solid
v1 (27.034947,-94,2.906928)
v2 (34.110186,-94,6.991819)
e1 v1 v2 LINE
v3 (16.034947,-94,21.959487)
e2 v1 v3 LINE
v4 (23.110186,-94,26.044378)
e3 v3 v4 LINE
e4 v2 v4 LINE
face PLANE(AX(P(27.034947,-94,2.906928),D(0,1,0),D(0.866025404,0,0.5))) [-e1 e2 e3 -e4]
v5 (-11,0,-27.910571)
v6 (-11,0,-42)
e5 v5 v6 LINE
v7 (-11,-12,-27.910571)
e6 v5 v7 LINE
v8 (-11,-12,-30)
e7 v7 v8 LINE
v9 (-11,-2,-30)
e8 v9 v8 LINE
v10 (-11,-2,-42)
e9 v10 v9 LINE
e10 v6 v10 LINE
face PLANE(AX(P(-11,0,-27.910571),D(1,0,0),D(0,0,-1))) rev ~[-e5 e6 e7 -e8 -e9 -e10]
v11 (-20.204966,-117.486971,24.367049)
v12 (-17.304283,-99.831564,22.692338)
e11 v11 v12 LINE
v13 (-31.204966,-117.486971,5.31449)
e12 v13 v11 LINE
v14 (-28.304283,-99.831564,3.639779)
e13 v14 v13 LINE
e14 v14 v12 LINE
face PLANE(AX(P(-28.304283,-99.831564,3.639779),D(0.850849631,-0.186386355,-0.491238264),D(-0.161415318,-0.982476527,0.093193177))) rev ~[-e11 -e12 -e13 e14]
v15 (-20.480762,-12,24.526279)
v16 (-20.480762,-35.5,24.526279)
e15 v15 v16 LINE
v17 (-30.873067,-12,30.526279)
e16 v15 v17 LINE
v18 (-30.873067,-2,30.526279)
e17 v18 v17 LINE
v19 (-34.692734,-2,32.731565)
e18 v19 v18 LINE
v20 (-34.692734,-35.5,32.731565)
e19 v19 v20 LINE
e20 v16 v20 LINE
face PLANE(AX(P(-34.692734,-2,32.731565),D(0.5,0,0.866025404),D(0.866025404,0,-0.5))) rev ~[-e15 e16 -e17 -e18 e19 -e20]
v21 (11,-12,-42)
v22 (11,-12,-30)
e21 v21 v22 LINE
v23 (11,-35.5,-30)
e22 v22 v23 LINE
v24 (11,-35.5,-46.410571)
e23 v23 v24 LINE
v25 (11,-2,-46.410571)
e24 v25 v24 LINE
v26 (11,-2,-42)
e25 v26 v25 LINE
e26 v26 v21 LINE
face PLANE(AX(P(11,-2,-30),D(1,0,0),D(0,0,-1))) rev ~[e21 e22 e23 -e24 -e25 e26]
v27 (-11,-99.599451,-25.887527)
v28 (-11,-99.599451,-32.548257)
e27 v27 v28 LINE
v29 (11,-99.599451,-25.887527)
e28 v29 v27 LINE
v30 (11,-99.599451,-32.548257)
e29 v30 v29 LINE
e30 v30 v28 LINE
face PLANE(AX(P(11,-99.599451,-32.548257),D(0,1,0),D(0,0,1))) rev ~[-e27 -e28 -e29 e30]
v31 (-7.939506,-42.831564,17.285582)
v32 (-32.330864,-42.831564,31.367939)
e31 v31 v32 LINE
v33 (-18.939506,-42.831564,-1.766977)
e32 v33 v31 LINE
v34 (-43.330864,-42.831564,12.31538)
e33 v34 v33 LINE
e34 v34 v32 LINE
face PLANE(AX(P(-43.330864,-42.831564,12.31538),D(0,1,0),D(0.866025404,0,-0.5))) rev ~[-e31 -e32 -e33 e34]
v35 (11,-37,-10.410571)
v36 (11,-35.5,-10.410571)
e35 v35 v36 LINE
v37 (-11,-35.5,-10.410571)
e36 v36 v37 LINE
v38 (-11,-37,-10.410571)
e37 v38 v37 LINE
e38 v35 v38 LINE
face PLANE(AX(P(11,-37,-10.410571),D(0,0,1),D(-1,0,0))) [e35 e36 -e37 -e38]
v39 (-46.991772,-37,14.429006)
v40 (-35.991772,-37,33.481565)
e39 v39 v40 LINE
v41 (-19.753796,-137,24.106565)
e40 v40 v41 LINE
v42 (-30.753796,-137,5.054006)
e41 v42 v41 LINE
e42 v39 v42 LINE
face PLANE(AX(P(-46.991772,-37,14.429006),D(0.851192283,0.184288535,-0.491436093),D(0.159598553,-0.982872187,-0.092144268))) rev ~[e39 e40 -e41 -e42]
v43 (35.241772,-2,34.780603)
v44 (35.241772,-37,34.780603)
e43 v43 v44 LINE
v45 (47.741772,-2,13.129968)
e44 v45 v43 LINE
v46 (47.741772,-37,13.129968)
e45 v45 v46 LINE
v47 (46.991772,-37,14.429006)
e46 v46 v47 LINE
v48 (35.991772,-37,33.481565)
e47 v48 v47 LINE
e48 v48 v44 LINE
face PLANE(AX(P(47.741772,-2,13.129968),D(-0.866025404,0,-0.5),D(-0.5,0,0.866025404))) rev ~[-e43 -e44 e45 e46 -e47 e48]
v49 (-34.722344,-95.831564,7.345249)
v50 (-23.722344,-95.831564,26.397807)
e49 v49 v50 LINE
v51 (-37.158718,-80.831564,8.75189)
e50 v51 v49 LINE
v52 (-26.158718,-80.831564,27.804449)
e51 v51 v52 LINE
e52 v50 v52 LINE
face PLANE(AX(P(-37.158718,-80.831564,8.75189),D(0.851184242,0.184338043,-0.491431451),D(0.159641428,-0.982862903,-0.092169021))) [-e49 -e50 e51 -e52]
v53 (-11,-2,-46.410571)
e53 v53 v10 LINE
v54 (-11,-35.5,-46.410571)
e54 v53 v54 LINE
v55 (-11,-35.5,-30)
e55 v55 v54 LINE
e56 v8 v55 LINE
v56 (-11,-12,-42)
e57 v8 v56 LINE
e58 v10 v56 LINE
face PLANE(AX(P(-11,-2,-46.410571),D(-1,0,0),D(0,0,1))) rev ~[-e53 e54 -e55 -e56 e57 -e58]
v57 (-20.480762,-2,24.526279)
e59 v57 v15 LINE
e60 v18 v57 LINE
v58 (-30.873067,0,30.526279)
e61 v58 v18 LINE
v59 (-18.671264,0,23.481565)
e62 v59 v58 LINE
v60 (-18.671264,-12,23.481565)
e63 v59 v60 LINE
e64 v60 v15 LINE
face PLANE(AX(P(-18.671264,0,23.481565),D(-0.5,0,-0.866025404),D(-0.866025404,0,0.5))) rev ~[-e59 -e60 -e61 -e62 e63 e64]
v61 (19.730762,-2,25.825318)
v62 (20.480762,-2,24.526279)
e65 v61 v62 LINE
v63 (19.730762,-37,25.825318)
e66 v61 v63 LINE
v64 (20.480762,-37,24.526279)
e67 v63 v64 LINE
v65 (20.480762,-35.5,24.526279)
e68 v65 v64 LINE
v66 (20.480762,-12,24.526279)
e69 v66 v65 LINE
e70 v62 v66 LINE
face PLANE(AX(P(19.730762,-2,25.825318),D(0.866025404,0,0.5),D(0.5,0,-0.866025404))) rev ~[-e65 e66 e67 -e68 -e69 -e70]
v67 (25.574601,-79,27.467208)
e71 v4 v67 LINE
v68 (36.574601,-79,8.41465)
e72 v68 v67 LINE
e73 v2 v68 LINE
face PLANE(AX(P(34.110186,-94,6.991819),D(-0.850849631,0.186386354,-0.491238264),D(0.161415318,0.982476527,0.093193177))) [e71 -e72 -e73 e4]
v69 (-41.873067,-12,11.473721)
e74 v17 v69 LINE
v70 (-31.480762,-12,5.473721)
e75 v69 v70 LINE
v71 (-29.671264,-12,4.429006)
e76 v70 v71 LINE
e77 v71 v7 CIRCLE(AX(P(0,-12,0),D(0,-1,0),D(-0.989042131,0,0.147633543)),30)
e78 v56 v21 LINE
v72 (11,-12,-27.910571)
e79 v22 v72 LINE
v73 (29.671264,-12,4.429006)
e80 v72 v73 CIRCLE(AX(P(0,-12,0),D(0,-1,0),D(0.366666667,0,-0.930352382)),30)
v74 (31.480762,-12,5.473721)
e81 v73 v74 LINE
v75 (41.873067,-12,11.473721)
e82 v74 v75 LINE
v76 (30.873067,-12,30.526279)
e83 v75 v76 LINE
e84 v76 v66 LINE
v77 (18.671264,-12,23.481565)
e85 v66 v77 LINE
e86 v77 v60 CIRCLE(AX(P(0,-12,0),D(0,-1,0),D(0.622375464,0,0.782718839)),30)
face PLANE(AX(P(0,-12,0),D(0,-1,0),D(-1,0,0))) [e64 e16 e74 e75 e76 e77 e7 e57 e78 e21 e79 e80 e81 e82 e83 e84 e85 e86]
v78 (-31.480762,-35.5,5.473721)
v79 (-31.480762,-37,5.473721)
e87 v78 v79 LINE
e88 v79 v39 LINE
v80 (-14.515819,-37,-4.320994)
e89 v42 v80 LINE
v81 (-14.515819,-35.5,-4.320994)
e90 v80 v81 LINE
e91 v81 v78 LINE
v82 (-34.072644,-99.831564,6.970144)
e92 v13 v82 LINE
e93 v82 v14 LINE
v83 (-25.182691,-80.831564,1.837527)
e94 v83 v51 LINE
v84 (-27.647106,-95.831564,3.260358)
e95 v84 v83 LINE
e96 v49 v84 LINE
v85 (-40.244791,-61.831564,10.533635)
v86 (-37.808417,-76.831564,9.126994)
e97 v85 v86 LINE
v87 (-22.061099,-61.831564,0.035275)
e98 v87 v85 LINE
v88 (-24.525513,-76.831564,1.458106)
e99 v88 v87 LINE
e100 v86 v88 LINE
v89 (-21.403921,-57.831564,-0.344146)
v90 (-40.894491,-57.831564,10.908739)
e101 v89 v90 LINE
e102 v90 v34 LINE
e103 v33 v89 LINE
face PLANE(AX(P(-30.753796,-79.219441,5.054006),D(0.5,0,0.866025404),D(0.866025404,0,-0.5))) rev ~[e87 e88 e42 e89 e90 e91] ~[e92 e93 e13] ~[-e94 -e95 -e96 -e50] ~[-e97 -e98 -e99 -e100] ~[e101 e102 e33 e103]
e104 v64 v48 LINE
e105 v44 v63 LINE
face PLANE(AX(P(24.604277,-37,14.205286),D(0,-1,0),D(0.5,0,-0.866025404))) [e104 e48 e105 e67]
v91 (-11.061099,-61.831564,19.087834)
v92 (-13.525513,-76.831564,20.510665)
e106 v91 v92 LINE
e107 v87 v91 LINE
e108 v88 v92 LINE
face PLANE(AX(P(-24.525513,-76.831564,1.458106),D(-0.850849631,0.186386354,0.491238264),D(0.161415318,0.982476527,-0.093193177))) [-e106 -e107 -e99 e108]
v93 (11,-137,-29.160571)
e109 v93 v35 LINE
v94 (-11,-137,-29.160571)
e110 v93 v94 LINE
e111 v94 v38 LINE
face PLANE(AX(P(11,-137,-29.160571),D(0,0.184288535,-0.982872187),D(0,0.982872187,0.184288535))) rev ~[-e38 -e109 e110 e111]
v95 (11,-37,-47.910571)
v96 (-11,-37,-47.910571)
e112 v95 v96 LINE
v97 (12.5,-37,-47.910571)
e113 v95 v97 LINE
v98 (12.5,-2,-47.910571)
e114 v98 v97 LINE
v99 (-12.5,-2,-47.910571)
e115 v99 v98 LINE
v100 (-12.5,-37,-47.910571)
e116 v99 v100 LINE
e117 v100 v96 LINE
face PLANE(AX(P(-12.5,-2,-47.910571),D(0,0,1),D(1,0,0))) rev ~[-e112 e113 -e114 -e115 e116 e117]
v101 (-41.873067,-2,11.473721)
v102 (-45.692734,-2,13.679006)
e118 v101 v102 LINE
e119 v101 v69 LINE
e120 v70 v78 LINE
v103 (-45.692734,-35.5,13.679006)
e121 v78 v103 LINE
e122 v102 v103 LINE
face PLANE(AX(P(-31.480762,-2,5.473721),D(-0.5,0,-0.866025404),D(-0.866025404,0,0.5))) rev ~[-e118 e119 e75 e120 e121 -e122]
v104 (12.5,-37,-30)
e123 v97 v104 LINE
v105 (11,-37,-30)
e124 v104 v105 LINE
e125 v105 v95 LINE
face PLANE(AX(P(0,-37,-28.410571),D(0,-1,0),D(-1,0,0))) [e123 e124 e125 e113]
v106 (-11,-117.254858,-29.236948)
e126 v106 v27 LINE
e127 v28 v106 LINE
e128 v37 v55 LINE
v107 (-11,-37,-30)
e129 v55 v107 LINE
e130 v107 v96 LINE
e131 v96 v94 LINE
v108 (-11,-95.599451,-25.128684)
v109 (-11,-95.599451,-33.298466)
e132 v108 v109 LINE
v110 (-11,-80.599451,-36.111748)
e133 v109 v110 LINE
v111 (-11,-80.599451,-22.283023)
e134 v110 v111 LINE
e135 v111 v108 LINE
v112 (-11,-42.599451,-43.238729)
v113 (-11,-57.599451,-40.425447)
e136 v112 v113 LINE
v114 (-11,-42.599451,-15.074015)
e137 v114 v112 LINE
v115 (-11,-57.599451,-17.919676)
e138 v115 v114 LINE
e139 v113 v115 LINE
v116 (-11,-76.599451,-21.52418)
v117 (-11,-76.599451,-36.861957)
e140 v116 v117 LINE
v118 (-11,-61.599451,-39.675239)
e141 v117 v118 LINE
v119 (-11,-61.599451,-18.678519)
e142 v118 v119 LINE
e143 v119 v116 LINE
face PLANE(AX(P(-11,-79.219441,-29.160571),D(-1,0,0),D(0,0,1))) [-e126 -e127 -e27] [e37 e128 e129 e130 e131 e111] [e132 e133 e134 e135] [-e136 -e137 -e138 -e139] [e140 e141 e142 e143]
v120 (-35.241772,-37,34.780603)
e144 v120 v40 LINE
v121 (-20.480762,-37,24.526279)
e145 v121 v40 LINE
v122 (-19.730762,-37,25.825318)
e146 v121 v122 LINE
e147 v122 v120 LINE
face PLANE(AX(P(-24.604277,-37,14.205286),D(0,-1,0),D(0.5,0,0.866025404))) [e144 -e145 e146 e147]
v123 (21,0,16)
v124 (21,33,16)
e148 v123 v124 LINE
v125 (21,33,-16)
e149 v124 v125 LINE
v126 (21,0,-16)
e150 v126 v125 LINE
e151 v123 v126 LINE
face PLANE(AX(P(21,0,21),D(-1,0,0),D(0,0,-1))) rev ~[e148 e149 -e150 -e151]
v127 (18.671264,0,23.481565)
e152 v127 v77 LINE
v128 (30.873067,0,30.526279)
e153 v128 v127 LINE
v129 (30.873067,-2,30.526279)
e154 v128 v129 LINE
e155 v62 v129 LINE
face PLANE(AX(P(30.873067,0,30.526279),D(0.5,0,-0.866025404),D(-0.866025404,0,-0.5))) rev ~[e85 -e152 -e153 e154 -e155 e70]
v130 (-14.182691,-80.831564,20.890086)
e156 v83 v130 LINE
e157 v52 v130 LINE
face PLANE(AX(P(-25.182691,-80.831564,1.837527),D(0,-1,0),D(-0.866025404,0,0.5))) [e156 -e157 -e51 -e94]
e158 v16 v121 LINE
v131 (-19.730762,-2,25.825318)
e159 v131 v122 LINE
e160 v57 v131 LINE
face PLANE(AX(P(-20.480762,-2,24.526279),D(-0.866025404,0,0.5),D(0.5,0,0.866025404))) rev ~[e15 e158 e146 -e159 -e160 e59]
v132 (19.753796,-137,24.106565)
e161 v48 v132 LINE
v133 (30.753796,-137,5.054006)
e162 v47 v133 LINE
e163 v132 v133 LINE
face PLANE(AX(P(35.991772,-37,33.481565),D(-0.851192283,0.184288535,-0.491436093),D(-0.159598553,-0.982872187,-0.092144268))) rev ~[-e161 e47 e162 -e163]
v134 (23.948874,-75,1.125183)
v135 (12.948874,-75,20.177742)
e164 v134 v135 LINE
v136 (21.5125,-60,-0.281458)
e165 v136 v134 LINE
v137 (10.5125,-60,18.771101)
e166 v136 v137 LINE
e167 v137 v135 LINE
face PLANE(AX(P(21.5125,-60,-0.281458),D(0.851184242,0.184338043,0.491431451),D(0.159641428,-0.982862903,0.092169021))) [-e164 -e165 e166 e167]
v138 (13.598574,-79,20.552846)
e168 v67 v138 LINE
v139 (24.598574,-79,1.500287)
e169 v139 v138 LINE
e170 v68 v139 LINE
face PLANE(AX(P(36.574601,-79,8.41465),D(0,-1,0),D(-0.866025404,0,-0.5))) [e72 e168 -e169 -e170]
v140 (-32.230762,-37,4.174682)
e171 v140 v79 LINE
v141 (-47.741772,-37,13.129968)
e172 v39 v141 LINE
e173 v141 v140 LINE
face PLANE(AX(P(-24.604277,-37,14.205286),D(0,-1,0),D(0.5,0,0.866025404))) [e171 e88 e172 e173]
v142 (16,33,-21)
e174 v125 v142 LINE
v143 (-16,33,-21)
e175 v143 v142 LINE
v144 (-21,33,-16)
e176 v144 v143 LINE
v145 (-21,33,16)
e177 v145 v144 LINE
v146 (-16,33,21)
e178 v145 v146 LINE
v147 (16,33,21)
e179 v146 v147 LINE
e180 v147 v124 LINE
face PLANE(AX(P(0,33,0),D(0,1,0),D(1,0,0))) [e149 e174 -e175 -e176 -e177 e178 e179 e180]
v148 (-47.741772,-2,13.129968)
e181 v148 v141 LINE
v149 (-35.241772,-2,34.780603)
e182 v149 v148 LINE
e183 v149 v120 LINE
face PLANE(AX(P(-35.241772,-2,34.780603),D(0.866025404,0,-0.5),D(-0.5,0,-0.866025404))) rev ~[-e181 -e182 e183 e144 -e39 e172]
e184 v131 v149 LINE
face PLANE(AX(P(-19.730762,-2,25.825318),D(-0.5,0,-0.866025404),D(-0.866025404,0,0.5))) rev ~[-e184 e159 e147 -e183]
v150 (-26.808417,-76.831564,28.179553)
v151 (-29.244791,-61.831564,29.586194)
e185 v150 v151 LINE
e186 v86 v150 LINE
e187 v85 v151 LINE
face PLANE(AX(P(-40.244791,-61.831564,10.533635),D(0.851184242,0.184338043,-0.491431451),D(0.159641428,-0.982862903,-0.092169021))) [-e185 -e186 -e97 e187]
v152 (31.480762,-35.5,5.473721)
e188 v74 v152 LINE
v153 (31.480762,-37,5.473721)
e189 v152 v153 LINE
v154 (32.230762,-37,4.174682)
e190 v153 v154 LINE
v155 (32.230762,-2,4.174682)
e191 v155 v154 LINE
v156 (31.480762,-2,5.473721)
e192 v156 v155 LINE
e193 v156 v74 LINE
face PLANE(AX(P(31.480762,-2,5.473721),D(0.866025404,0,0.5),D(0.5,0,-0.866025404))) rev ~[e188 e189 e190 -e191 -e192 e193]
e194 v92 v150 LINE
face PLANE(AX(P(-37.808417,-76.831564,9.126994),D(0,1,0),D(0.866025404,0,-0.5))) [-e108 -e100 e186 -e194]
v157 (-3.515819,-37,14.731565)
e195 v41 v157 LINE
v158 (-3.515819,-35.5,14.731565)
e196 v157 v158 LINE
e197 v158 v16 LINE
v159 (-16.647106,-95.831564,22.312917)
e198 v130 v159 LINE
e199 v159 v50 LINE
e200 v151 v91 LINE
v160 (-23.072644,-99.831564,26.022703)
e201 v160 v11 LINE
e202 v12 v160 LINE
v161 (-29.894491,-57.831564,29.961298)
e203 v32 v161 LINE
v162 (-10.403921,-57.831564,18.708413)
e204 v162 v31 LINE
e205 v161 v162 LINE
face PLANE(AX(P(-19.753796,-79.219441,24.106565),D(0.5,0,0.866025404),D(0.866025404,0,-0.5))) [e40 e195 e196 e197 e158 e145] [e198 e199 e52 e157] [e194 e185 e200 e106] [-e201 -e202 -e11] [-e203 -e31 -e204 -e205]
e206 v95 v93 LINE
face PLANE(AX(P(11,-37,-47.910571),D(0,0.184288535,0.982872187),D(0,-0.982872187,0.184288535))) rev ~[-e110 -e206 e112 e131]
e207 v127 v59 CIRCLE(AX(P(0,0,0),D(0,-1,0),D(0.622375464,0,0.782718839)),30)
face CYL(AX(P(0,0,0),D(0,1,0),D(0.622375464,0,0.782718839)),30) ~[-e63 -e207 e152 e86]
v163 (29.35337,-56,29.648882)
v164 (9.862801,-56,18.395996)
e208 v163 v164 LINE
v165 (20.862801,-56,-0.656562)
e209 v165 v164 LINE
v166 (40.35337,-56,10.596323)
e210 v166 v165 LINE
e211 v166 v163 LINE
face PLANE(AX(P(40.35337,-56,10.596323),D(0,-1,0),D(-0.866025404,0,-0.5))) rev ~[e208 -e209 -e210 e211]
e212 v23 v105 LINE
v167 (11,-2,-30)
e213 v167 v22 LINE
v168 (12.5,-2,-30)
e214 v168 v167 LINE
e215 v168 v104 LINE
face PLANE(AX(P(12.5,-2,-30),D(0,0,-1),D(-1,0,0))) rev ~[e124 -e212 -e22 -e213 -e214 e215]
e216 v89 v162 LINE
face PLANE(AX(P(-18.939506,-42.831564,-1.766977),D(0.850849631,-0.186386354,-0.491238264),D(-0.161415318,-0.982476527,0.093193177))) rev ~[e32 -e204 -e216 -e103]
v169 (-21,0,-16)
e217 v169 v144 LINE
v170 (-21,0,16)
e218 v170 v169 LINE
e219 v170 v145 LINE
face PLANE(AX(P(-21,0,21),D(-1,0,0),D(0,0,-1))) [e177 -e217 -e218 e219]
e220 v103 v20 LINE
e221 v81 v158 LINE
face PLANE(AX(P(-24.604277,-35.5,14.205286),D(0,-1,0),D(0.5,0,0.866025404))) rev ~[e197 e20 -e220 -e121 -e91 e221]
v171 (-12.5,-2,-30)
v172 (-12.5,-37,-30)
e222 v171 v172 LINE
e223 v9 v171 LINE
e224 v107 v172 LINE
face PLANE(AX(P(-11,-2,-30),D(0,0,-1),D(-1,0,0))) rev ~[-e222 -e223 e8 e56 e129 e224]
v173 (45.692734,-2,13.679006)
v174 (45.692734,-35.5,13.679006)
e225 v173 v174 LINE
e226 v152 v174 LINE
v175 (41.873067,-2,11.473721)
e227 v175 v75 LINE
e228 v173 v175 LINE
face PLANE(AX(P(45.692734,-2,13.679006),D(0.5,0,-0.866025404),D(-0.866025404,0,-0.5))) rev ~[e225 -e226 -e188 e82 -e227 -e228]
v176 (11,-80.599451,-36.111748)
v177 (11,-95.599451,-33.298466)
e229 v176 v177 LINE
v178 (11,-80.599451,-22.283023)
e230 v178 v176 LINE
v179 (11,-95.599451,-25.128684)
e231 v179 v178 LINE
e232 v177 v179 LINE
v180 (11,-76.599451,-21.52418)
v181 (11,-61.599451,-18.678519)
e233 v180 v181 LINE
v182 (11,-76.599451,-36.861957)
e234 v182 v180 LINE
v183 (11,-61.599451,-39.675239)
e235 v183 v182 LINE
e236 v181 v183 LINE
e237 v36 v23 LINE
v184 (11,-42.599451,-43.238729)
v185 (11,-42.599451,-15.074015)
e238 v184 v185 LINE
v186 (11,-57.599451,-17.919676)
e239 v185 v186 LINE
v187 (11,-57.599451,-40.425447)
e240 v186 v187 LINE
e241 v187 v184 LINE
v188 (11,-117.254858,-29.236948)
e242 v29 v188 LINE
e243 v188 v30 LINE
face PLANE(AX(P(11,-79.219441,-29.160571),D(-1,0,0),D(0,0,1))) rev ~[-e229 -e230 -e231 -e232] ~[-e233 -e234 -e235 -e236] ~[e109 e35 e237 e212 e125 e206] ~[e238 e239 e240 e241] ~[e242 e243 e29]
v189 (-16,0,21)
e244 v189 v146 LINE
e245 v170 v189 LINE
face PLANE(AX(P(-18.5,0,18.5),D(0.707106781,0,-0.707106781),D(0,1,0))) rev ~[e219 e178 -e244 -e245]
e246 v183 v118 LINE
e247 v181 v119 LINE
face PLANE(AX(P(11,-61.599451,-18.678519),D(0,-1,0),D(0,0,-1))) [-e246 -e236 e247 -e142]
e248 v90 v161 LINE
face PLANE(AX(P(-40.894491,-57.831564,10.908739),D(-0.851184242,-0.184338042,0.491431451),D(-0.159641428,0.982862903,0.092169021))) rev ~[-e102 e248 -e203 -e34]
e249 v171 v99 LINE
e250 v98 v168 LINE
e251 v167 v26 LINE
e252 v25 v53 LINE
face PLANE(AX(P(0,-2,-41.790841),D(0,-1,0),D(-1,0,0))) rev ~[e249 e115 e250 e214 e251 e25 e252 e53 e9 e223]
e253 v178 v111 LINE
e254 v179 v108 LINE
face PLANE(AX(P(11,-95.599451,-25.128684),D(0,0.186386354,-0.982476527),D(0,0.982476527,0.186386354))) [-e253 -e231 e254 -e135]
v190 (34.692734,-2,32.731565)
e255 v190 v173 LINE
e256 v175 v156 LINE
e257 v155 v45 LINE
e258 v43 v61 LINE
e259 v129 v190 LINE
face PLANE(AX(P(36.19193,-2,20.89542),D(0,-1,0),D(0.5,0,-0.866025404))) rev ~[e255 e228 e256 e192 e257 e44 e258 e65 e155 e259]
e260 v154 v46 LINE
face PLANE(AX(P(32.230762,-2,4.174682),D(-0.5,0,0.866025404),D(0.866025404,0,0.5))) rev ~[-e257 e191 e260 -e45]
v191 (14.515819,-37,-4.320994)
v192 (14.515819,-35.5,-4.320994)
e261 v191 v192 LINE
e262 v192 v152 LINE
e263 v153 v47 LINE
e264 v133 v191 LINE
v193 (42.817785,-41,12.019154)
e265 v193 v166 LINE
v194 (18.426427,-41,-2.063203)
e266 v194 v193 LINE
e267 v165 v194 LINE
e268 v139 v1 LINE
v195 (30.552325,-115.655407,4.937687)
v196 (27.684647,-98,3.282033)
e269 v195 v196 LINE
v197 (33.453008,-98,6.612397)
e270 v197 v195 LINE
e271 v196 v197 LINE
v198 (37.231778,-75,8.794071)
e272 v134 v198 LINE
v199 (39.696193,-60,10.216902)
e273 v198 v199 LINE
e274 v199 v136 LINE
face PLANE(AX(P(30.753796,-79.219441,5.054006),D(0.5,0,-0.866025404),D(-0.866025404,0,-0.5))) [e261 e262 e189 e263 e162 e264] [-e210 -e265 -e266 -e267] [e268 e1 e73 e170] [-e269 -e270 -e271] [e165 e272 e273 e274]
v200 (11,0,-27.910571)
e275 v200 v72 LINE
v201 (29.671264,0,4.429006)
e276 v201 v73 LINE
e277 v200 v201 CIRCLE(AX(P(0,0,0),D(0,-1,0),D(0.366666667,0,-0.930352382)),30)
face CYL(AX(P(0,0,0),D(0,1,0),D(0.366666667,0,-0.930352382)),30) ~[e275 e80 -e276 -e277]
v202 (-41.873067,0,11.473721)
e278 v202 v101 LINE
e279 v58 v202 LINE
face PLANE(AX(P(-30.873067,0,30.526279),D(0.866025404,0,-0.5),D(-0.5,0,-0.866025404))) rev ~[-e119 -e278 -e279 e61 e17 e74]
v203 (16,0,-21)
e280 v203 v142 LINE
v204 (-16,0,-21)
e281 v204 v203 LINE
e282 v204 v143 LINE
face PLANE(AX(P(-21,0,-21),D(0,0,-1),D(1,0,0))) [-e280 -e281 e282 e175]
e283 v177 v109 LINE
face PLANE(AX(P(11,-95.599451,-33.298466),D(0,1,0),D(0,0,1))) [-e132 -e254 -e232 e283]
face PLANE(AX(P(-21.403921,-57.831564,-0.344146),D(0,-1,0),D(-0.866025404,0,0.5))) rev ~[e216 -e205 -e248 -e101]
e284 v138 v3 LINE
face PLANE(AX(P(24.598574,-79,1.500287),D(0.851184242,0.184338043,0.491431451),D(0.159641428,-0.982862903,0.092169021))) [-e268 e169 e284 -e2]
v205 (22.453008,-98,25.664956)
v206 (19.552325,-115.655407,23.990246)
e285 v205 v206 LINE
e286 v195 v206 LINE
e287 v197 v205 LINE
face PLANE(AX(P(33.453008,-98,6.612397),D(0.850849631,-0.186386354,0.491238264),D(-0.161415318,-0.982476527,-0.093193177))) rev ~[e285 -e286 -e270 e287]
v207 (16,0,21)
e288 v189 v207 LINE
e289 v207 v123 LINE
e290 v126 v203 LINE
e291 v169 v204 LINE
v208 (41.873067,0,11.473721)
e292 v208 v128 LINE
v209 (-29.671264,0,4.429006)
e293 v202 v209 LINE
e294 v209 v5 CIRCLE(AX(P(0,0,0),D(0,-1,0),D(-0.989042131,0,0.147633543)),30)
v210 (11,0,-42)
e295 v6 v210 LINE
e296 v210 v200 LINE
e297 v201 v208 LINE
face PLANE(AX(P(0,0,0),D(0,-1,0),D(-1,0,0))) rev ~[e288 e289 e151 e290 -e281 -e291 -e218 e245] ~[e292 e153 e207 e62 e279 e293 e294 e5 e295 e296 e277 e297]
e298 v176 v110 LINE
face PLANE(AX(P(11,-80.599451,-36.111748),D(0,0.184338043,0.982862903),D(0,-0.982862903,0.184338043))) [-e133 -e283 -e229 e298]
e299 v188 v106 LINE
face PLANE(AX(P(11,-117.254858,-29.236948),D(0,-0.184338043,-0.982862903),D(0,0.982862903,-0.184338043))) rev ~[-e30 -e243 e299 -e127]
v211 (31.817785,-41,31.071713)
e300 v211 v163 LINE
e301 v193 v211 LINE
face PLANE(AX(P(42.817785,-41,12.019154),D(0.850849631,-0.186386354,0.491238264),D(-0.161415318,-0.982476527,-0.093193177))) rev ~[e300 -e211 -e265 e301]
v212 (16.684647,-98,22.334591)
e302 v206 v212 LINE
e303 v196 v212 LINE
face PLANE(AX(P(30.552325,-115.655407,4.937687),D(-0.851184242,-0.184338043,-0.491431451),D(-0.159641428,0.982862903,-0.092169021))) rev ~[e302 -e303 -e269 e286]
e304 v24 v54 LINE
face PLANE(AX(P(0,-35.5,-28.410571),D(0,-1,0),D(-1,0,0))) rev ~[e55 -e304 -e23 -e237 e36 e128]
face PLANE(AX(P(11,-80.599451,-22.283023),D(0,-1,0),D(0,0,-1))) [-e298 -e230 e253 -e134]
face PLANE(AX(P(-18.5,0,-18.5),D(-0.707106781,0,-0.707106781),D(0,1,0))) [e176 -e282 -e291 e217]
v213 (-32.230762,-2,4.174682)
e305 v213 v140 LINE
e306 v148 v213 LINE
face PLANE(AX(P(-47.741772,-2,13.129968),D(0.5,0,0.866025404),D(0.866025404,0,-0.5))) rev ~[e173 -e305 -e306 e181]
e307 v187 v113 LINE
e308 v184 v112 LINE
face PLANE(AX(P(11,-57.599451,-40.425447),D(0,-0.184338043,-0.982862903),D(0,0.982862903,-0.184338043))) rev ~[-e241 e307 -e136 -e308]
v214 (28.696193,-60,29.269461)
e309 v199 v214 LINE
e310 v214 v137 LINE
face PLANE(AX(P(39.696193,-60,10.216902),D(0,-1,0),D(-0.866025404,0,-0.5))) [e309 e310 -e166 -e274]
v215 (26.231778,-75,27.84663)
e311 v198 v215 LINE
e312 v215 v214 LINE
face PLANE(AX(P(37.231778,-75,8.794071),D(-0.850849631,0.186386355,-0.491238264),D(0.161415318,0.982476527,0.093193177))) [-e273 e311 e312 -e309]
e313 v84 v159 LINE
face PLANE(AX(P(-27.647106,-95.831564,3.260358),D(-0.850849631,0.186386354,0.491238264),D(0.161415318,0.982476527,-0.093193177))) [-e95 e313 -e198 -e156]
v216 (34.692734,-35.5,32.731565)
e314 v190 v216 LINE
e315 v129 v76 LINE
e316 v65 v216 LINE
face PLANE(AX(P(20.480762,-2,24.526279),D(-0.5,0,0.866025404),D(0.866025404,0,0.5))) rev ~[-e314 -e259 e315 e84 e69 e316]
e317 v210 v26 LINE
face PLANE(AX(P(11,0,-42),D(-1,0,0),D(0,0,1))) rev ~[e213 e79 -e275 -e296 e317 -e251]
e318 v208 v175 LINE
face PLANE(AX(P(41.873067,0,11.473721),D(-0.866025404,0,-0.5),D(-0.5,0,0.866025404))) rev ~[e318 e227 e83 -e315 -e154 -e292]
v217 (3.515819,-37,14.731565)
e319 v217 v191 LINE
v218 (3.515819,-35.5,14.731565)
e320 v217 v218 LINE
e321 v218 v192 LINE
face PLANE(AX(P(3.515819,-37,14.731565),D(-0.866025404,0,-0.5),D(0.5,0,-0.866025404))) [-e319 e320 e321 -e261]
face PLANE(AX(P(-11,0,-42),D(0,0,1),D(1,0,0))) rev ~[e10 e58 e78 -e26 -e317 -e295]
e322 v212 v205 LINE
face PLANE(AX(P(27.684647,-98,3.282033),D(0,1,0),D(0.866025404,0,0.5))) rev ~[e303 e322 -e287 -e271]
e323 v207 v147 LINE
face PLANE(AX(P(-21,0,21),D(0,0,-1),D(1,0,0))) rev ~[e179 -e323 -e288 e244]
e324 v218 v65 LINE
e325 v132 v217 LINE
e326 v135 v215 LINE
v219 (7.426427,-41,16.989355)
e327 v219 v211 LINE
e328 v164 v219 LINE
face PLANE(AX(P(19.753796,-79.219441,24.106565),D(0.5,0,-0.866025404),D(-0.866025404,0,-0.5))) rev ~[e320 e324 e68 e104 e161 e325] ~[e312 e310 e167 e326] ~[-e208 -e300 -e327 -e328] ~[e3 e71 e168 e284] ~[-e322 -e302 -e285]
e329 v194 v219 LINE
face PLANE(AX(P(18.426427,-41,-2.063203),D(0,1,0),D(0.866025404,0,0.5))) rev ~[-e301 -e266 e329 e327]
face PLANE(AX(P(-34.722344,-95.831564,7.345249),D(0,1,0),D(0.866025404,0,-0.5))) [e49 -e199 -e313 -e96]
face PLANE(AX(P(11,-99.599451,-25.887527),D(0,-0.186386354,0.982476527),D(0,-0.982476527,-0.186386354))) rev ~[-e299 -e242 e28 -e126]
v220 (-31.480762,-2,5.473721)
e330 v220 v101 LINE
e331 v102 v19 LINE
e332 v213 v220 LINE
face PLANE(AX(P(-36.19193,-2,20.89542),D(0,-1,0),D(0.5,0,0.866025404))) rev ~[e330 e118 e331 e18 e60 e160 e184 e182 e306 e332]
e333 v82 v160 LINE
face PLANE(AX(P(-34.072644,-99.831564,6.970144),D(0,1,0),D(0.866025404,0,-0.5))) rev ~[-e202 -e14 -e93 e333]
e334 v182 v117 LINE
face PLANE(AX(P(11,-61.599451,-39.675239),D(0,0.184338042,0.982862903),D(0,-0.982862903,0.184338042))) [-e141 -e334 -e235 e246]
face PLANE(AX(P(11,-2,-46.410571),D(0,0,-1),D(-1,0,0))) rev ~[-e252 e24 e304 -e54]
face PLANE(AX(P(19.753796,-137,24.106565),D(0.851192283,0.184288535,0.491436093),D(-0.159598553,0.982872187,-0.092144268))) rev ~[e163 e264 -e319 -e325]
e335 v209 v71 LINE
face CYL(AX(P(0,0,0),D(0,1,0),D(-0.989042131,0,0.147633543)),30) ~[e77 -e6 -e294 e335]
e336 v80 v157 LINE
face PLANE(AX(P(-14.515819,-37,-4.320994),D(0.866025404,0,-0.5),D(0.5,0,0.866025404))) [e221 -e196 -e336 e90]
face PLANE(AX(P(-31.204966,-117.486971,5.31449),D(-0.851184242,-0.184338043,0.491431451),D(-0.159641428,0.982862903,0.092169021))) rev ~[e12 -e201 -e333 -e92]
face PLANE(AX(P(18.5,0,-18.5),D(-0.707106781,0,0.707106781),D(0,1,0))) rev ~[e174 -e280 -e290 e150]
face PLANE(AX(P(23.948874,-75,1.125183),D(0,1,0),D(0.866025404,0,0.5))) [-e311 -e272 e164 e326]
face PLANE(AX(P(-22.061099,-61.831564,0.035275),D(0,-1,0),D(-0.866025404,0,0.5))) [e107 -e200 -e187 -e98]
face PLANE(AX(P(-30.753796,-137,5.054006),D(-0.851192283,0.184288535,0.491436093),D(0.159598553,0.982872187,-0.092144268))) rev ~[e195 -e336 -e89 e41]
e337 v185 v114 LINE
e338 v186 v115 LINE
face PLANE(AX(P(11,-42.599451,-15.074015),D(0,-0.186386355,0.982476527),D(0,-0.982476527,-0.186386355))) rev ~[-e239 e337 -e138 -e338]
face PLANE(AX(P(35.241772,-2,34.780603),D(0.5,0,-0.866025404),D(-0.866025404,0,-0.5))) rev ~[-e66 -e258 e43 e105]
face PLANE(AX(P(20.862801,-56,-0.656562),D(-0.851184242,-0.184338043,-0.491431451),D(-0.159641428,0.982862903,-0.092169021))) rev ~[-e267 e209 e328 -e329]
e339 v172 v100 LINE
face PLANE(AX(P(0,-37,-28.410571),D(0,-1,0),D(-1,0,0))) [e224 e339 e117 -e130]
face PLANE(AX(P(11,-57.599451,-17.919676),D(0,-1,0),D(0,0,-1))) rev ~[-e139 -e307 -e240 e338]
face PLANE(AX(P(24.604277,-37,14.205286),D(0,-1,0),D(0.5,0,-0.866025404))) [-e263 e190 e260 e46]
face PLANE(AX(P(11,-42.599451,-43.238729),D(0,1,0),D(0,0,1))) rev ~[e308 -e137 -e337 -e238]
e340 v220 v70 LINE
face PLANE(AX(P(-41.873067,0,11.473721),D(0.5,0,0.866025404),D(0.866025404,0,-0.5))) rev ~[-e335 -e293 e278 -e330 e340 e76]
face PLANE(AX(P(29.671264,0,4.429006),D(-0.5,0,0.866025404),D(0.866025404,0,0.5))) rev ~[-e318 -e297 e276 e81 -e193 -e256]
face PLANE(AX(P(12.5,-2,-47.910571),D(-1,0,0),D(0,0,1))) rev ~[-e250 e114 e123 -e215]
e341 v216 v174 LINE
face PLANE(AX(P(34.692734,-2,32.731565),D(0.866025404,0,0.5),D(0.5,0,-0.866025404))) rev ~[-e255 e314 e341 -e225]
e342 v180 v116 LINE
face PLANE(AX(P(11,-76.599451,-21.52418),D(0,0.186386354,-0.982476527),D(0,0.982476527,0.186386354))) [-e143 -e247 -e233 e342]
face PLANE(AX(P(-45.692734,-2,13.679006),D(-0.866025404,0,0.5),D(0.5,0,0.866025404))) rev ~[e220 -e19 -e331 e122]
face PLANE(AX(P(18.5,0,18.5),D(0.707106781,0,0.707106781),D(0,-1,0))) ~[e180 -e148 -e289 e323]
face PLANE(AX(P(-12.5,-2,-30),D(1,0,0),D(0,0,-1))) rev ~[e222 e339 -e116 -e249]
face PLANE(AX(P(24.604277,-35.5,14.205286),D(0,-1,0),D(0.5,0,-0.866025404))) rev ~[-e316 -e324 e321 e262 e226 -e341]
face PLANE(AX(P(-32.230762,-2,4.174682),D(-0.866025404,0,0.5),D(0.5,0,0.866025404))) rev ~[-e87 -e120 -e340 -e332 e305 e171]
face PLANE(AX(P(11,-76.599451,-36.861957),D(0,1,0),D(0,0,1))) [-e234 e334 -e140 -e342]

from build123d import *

# Parameters (mm, degrees)
SKETCH_1_W               = 42
SKETCH_1_H               = 42
EXTRUDE_1_DEPTH          = 33
CHAMFER_1_SIZE           = 5
EXTRUDE_2_DEPTH          = 12
EXTRUDE_START            = -10
EXTRUDE_3_DEPTH          = 35
SKETCH_5_W               = 22
SKETCH_5_H               = 36
EXTRUDE_4_DEPTH          = 1.5
EXTRUDE_5_DEPTH          = 22
PATTERN_CIRCULAR_1_COUNT = 3
CUT_EXTRUDE_1_DEPTH      = 65.991772006
CUT_EXTRUDE_2_DEPTH      = 59.741772006
CUT_EXTRUDE_3_DEPTH      = 65.991772006


with BuildPart() as part:
    # Sketch 1 → Extrude 1 (new body)
    with BuildSketch(Plane(origin=(0, 0, 0), x_dir=(1, 0, 0), z_dir=(0, 1, 0))):
        Rectangle(SKETCH_1_W, SKETCH_1_H)
    extrude(amount=EXTRUDE_1_DEPTH)

    # Chamfer 1
    chamfer_1_edges = [part.edges().sort_by_distance(p)[0] for p in [
        (21, 16.5, 21),
        (-21, 16.5, 21),
        (-21, 16.5, -21),
        (21, 16.5, -21),
    ]]
    chamfer(chamfer_1_edges, length=CHAMFER_1_SIZE)

    # Sketch 3 → Extrude 2 (add)
    with BuildSketch(Plane(origin=(0, 0, 0), x_dir=(1, 0, 0), z_dir=(0, 1, 0))):
        with BuildLine():
            Line((-11, 27.910571474), (-11, 42))
            Line((-11, 42), (11, 42))
            Line((11, 42), (11, 27.910571474))
            ThreePointArc((11, 27.910571474), (25.980762114, 15), (29.671263931, -4.429006295))
            Line((29.671263931, -4.429006295), (41.873066959, -11.473720558))
            Line((41.873066959, -11.473720558), (30.873066959, -30.526279442))
            Line((30.873066959, -30.526279442), (18.671263931, -23.481565179))
            ThreePointArc((18.671263931, -23.481565179), (0, -30), (-18.671263931, -23.481565179))
            Line((-18.671263931, -23.481565179), (-30.873066959, -30.526279442))
            Line((-30.873066959, -30.526279442), (-41.873066959, -11.473720558))
            Line((-41.873066959, -11.473720558), (-29.671263931, -4.429006295))
            ThreePointArc((-29.671263931, -4.429006295), (-25.980762114, 15), (-11, 27.910571474))
        make_face()
    extrude(amount=-EXTRUDE_2_DEPTH)

    # Sketch 4 → Extrude 3 (add)
    with BuildSketch(Plane(origin=(0, -12, 0), x_dir=(-1, 0, 0), z_dir=(0, -1, 0)).offset(EXTRUDE_START)):
        Polygon((-11, 30), (-11, 46.410571474), (11, 46.410571474), (11, 30), (12.5, 30), (12.5, 47.910571474), (-12.5, 47.910571474), (-12.5, 30), align=None)
    extrude_3 = extrude(amount=EXTRUDE_3_DEPTH)

    # Sketch 5 → Extrude 4 (add)
    with BuildSketch(Plane(origin=(0, -37, 0), x_dir=(-1, 0, 0), z_dir=(0, -1, 0))):
        with Locations((0, 28.410571474)):
            Rectangle(SKETCH_5_W, SKETCH_5_H)
    extrude_4 = extrude(amount=-EXTRUDE_4_DEPTH)

    # Sketch 6 → Extrude 5 (add)
    with BuildSketch(Plane(origin=(11, 0, 0), x_dir=(0, 0, -1), z_dir=(1, 0, 0))):
        Polygon((10.410571474, -37), (47.910571474, -37), (29.160571474, -137), align=None)
    extrude_5 = extrude(amount=-EXTRUDE_5_DEPTH)

    # Pattern Circular 1: Extrude 3, Extrude 4, Extrude 5 ×3 about axis
    pattern_circular_1_axis = Axis((0, 0, 0), (0, 1, 0))
    for i in range(1, PATTERN_CIRCULAR_1_COUNT):
        add(extrude_3.rotate(pattern_circular_1_axis, i * 360 / PATTERN_CIRCULAR_1_COUNT))
        add(extrude_4.rotate(pattern_circular_1_axis, i * 360 / PATTERN_CIRCULAR_1_COUNT))
        add(extrude_5.rotate(pattern_circular_1_axis, i * 360 / PATTERN_CIRCULAR_1_COUNT))

    # Sketch 7 → Cut-Extrude 1 (cut, through all)
    with BuildSketch(Plane(origin=(5.5, 0, -9.526279442), x_dir=(-0.866025404, 0, -0.5), z_dir=(0.5, 0, -0.866025404))):
        Polygon((-40.245205142, -56), (-17.739434055, -56), (-14.926151928, -41), (-26.07846167, -41), (-43.090866325, -41), align=None)
        Polygon((-39.48636216, -60), (-18.489642622, -60), (-21.302924749, -75), (-36.640700976, -75), align=None)
        Polygon((-35.881857994, -79), (-22.053133316, -79), (-24.866415443, -94), (-33.036196811, -94), align=None)
        Polygon((-28.927933406, -115.655406991), (-25.61662401, -98), (-32.277353829, -98), align=None)
    extrude(amount=-CUT_EXTRUDE_1_DEPTH, mode=Mode.SUBTRACT)

    # Sketch 8 → Cut-Extrude 2 (cut, through all)
    with BuildSketch(Plane(origin=(11, 0, 0), x_dir=(0, 0, -1), z_dir=(1, 0, 0))):
        Polygon((17.91967612, -57.599451379), (40.425447207, -57.599451379), (43.238729334, -42.599451379), (32.086419592, -42.599451379), (15.074014936, -42.599451379), align=None)
        Polygon((18.678519102, -61.599451379), (39.675238639, -61.599451379), (36.861956513, -76.599451379), (21.524180285, -76.599451379), align=None)
        Polygon((22.283023267, -80.599451379), (36.111747945, -80.599451379), (33.298465818, -95.599451379), (25.12868445, -95.599451379), align=None)
        Polygon((29.236947856, -117.25485837), (32.548257251, -99.599451379), (25.887527433, -99.599451379), align=None)
    extrude(amount=-CUT_EXTRUDE_2_DEPTH, mode=Mode.SUBTRACT)

    # Sketch 9 → Cut-Extrude 3 (cut, through all)
    with BuildSketch(Plane(origin=(-5.5, 0, -9.526279442), x_dir=(-0.866025404, 0, 0.5), z_dir=(-0.5, 0, -0.866025404))):
        Polygon((18.364266378, -57.83156369), (40.870037466, -57.83156369), (43.683319592, -42.83156369), (32.531009851, -42.83156369), (15.518605195, -42.83156369), align=None)
        Polygon((19.123109361, -61.83156369), (40.119828898, -61.83156369), (37.306546771, -76.83156369), (21.968770544, -76.83156369), align=None)
        Polygon((22.727613526, -80.83156369), (36.556338204, -80.83156369), (33.743056077, -95.83156369), (25.573274709, -95.83156369), align=None)
        Polygon((29.681538115, -117.486970681), (32.99284751, -99.83156369), (26.332117691, -99.83156369), align=None)
    extrude(amount=-CUT_EXTRUDE_3_DEPTH, mode=Mode.SUBTRACT)


solid = part.part
